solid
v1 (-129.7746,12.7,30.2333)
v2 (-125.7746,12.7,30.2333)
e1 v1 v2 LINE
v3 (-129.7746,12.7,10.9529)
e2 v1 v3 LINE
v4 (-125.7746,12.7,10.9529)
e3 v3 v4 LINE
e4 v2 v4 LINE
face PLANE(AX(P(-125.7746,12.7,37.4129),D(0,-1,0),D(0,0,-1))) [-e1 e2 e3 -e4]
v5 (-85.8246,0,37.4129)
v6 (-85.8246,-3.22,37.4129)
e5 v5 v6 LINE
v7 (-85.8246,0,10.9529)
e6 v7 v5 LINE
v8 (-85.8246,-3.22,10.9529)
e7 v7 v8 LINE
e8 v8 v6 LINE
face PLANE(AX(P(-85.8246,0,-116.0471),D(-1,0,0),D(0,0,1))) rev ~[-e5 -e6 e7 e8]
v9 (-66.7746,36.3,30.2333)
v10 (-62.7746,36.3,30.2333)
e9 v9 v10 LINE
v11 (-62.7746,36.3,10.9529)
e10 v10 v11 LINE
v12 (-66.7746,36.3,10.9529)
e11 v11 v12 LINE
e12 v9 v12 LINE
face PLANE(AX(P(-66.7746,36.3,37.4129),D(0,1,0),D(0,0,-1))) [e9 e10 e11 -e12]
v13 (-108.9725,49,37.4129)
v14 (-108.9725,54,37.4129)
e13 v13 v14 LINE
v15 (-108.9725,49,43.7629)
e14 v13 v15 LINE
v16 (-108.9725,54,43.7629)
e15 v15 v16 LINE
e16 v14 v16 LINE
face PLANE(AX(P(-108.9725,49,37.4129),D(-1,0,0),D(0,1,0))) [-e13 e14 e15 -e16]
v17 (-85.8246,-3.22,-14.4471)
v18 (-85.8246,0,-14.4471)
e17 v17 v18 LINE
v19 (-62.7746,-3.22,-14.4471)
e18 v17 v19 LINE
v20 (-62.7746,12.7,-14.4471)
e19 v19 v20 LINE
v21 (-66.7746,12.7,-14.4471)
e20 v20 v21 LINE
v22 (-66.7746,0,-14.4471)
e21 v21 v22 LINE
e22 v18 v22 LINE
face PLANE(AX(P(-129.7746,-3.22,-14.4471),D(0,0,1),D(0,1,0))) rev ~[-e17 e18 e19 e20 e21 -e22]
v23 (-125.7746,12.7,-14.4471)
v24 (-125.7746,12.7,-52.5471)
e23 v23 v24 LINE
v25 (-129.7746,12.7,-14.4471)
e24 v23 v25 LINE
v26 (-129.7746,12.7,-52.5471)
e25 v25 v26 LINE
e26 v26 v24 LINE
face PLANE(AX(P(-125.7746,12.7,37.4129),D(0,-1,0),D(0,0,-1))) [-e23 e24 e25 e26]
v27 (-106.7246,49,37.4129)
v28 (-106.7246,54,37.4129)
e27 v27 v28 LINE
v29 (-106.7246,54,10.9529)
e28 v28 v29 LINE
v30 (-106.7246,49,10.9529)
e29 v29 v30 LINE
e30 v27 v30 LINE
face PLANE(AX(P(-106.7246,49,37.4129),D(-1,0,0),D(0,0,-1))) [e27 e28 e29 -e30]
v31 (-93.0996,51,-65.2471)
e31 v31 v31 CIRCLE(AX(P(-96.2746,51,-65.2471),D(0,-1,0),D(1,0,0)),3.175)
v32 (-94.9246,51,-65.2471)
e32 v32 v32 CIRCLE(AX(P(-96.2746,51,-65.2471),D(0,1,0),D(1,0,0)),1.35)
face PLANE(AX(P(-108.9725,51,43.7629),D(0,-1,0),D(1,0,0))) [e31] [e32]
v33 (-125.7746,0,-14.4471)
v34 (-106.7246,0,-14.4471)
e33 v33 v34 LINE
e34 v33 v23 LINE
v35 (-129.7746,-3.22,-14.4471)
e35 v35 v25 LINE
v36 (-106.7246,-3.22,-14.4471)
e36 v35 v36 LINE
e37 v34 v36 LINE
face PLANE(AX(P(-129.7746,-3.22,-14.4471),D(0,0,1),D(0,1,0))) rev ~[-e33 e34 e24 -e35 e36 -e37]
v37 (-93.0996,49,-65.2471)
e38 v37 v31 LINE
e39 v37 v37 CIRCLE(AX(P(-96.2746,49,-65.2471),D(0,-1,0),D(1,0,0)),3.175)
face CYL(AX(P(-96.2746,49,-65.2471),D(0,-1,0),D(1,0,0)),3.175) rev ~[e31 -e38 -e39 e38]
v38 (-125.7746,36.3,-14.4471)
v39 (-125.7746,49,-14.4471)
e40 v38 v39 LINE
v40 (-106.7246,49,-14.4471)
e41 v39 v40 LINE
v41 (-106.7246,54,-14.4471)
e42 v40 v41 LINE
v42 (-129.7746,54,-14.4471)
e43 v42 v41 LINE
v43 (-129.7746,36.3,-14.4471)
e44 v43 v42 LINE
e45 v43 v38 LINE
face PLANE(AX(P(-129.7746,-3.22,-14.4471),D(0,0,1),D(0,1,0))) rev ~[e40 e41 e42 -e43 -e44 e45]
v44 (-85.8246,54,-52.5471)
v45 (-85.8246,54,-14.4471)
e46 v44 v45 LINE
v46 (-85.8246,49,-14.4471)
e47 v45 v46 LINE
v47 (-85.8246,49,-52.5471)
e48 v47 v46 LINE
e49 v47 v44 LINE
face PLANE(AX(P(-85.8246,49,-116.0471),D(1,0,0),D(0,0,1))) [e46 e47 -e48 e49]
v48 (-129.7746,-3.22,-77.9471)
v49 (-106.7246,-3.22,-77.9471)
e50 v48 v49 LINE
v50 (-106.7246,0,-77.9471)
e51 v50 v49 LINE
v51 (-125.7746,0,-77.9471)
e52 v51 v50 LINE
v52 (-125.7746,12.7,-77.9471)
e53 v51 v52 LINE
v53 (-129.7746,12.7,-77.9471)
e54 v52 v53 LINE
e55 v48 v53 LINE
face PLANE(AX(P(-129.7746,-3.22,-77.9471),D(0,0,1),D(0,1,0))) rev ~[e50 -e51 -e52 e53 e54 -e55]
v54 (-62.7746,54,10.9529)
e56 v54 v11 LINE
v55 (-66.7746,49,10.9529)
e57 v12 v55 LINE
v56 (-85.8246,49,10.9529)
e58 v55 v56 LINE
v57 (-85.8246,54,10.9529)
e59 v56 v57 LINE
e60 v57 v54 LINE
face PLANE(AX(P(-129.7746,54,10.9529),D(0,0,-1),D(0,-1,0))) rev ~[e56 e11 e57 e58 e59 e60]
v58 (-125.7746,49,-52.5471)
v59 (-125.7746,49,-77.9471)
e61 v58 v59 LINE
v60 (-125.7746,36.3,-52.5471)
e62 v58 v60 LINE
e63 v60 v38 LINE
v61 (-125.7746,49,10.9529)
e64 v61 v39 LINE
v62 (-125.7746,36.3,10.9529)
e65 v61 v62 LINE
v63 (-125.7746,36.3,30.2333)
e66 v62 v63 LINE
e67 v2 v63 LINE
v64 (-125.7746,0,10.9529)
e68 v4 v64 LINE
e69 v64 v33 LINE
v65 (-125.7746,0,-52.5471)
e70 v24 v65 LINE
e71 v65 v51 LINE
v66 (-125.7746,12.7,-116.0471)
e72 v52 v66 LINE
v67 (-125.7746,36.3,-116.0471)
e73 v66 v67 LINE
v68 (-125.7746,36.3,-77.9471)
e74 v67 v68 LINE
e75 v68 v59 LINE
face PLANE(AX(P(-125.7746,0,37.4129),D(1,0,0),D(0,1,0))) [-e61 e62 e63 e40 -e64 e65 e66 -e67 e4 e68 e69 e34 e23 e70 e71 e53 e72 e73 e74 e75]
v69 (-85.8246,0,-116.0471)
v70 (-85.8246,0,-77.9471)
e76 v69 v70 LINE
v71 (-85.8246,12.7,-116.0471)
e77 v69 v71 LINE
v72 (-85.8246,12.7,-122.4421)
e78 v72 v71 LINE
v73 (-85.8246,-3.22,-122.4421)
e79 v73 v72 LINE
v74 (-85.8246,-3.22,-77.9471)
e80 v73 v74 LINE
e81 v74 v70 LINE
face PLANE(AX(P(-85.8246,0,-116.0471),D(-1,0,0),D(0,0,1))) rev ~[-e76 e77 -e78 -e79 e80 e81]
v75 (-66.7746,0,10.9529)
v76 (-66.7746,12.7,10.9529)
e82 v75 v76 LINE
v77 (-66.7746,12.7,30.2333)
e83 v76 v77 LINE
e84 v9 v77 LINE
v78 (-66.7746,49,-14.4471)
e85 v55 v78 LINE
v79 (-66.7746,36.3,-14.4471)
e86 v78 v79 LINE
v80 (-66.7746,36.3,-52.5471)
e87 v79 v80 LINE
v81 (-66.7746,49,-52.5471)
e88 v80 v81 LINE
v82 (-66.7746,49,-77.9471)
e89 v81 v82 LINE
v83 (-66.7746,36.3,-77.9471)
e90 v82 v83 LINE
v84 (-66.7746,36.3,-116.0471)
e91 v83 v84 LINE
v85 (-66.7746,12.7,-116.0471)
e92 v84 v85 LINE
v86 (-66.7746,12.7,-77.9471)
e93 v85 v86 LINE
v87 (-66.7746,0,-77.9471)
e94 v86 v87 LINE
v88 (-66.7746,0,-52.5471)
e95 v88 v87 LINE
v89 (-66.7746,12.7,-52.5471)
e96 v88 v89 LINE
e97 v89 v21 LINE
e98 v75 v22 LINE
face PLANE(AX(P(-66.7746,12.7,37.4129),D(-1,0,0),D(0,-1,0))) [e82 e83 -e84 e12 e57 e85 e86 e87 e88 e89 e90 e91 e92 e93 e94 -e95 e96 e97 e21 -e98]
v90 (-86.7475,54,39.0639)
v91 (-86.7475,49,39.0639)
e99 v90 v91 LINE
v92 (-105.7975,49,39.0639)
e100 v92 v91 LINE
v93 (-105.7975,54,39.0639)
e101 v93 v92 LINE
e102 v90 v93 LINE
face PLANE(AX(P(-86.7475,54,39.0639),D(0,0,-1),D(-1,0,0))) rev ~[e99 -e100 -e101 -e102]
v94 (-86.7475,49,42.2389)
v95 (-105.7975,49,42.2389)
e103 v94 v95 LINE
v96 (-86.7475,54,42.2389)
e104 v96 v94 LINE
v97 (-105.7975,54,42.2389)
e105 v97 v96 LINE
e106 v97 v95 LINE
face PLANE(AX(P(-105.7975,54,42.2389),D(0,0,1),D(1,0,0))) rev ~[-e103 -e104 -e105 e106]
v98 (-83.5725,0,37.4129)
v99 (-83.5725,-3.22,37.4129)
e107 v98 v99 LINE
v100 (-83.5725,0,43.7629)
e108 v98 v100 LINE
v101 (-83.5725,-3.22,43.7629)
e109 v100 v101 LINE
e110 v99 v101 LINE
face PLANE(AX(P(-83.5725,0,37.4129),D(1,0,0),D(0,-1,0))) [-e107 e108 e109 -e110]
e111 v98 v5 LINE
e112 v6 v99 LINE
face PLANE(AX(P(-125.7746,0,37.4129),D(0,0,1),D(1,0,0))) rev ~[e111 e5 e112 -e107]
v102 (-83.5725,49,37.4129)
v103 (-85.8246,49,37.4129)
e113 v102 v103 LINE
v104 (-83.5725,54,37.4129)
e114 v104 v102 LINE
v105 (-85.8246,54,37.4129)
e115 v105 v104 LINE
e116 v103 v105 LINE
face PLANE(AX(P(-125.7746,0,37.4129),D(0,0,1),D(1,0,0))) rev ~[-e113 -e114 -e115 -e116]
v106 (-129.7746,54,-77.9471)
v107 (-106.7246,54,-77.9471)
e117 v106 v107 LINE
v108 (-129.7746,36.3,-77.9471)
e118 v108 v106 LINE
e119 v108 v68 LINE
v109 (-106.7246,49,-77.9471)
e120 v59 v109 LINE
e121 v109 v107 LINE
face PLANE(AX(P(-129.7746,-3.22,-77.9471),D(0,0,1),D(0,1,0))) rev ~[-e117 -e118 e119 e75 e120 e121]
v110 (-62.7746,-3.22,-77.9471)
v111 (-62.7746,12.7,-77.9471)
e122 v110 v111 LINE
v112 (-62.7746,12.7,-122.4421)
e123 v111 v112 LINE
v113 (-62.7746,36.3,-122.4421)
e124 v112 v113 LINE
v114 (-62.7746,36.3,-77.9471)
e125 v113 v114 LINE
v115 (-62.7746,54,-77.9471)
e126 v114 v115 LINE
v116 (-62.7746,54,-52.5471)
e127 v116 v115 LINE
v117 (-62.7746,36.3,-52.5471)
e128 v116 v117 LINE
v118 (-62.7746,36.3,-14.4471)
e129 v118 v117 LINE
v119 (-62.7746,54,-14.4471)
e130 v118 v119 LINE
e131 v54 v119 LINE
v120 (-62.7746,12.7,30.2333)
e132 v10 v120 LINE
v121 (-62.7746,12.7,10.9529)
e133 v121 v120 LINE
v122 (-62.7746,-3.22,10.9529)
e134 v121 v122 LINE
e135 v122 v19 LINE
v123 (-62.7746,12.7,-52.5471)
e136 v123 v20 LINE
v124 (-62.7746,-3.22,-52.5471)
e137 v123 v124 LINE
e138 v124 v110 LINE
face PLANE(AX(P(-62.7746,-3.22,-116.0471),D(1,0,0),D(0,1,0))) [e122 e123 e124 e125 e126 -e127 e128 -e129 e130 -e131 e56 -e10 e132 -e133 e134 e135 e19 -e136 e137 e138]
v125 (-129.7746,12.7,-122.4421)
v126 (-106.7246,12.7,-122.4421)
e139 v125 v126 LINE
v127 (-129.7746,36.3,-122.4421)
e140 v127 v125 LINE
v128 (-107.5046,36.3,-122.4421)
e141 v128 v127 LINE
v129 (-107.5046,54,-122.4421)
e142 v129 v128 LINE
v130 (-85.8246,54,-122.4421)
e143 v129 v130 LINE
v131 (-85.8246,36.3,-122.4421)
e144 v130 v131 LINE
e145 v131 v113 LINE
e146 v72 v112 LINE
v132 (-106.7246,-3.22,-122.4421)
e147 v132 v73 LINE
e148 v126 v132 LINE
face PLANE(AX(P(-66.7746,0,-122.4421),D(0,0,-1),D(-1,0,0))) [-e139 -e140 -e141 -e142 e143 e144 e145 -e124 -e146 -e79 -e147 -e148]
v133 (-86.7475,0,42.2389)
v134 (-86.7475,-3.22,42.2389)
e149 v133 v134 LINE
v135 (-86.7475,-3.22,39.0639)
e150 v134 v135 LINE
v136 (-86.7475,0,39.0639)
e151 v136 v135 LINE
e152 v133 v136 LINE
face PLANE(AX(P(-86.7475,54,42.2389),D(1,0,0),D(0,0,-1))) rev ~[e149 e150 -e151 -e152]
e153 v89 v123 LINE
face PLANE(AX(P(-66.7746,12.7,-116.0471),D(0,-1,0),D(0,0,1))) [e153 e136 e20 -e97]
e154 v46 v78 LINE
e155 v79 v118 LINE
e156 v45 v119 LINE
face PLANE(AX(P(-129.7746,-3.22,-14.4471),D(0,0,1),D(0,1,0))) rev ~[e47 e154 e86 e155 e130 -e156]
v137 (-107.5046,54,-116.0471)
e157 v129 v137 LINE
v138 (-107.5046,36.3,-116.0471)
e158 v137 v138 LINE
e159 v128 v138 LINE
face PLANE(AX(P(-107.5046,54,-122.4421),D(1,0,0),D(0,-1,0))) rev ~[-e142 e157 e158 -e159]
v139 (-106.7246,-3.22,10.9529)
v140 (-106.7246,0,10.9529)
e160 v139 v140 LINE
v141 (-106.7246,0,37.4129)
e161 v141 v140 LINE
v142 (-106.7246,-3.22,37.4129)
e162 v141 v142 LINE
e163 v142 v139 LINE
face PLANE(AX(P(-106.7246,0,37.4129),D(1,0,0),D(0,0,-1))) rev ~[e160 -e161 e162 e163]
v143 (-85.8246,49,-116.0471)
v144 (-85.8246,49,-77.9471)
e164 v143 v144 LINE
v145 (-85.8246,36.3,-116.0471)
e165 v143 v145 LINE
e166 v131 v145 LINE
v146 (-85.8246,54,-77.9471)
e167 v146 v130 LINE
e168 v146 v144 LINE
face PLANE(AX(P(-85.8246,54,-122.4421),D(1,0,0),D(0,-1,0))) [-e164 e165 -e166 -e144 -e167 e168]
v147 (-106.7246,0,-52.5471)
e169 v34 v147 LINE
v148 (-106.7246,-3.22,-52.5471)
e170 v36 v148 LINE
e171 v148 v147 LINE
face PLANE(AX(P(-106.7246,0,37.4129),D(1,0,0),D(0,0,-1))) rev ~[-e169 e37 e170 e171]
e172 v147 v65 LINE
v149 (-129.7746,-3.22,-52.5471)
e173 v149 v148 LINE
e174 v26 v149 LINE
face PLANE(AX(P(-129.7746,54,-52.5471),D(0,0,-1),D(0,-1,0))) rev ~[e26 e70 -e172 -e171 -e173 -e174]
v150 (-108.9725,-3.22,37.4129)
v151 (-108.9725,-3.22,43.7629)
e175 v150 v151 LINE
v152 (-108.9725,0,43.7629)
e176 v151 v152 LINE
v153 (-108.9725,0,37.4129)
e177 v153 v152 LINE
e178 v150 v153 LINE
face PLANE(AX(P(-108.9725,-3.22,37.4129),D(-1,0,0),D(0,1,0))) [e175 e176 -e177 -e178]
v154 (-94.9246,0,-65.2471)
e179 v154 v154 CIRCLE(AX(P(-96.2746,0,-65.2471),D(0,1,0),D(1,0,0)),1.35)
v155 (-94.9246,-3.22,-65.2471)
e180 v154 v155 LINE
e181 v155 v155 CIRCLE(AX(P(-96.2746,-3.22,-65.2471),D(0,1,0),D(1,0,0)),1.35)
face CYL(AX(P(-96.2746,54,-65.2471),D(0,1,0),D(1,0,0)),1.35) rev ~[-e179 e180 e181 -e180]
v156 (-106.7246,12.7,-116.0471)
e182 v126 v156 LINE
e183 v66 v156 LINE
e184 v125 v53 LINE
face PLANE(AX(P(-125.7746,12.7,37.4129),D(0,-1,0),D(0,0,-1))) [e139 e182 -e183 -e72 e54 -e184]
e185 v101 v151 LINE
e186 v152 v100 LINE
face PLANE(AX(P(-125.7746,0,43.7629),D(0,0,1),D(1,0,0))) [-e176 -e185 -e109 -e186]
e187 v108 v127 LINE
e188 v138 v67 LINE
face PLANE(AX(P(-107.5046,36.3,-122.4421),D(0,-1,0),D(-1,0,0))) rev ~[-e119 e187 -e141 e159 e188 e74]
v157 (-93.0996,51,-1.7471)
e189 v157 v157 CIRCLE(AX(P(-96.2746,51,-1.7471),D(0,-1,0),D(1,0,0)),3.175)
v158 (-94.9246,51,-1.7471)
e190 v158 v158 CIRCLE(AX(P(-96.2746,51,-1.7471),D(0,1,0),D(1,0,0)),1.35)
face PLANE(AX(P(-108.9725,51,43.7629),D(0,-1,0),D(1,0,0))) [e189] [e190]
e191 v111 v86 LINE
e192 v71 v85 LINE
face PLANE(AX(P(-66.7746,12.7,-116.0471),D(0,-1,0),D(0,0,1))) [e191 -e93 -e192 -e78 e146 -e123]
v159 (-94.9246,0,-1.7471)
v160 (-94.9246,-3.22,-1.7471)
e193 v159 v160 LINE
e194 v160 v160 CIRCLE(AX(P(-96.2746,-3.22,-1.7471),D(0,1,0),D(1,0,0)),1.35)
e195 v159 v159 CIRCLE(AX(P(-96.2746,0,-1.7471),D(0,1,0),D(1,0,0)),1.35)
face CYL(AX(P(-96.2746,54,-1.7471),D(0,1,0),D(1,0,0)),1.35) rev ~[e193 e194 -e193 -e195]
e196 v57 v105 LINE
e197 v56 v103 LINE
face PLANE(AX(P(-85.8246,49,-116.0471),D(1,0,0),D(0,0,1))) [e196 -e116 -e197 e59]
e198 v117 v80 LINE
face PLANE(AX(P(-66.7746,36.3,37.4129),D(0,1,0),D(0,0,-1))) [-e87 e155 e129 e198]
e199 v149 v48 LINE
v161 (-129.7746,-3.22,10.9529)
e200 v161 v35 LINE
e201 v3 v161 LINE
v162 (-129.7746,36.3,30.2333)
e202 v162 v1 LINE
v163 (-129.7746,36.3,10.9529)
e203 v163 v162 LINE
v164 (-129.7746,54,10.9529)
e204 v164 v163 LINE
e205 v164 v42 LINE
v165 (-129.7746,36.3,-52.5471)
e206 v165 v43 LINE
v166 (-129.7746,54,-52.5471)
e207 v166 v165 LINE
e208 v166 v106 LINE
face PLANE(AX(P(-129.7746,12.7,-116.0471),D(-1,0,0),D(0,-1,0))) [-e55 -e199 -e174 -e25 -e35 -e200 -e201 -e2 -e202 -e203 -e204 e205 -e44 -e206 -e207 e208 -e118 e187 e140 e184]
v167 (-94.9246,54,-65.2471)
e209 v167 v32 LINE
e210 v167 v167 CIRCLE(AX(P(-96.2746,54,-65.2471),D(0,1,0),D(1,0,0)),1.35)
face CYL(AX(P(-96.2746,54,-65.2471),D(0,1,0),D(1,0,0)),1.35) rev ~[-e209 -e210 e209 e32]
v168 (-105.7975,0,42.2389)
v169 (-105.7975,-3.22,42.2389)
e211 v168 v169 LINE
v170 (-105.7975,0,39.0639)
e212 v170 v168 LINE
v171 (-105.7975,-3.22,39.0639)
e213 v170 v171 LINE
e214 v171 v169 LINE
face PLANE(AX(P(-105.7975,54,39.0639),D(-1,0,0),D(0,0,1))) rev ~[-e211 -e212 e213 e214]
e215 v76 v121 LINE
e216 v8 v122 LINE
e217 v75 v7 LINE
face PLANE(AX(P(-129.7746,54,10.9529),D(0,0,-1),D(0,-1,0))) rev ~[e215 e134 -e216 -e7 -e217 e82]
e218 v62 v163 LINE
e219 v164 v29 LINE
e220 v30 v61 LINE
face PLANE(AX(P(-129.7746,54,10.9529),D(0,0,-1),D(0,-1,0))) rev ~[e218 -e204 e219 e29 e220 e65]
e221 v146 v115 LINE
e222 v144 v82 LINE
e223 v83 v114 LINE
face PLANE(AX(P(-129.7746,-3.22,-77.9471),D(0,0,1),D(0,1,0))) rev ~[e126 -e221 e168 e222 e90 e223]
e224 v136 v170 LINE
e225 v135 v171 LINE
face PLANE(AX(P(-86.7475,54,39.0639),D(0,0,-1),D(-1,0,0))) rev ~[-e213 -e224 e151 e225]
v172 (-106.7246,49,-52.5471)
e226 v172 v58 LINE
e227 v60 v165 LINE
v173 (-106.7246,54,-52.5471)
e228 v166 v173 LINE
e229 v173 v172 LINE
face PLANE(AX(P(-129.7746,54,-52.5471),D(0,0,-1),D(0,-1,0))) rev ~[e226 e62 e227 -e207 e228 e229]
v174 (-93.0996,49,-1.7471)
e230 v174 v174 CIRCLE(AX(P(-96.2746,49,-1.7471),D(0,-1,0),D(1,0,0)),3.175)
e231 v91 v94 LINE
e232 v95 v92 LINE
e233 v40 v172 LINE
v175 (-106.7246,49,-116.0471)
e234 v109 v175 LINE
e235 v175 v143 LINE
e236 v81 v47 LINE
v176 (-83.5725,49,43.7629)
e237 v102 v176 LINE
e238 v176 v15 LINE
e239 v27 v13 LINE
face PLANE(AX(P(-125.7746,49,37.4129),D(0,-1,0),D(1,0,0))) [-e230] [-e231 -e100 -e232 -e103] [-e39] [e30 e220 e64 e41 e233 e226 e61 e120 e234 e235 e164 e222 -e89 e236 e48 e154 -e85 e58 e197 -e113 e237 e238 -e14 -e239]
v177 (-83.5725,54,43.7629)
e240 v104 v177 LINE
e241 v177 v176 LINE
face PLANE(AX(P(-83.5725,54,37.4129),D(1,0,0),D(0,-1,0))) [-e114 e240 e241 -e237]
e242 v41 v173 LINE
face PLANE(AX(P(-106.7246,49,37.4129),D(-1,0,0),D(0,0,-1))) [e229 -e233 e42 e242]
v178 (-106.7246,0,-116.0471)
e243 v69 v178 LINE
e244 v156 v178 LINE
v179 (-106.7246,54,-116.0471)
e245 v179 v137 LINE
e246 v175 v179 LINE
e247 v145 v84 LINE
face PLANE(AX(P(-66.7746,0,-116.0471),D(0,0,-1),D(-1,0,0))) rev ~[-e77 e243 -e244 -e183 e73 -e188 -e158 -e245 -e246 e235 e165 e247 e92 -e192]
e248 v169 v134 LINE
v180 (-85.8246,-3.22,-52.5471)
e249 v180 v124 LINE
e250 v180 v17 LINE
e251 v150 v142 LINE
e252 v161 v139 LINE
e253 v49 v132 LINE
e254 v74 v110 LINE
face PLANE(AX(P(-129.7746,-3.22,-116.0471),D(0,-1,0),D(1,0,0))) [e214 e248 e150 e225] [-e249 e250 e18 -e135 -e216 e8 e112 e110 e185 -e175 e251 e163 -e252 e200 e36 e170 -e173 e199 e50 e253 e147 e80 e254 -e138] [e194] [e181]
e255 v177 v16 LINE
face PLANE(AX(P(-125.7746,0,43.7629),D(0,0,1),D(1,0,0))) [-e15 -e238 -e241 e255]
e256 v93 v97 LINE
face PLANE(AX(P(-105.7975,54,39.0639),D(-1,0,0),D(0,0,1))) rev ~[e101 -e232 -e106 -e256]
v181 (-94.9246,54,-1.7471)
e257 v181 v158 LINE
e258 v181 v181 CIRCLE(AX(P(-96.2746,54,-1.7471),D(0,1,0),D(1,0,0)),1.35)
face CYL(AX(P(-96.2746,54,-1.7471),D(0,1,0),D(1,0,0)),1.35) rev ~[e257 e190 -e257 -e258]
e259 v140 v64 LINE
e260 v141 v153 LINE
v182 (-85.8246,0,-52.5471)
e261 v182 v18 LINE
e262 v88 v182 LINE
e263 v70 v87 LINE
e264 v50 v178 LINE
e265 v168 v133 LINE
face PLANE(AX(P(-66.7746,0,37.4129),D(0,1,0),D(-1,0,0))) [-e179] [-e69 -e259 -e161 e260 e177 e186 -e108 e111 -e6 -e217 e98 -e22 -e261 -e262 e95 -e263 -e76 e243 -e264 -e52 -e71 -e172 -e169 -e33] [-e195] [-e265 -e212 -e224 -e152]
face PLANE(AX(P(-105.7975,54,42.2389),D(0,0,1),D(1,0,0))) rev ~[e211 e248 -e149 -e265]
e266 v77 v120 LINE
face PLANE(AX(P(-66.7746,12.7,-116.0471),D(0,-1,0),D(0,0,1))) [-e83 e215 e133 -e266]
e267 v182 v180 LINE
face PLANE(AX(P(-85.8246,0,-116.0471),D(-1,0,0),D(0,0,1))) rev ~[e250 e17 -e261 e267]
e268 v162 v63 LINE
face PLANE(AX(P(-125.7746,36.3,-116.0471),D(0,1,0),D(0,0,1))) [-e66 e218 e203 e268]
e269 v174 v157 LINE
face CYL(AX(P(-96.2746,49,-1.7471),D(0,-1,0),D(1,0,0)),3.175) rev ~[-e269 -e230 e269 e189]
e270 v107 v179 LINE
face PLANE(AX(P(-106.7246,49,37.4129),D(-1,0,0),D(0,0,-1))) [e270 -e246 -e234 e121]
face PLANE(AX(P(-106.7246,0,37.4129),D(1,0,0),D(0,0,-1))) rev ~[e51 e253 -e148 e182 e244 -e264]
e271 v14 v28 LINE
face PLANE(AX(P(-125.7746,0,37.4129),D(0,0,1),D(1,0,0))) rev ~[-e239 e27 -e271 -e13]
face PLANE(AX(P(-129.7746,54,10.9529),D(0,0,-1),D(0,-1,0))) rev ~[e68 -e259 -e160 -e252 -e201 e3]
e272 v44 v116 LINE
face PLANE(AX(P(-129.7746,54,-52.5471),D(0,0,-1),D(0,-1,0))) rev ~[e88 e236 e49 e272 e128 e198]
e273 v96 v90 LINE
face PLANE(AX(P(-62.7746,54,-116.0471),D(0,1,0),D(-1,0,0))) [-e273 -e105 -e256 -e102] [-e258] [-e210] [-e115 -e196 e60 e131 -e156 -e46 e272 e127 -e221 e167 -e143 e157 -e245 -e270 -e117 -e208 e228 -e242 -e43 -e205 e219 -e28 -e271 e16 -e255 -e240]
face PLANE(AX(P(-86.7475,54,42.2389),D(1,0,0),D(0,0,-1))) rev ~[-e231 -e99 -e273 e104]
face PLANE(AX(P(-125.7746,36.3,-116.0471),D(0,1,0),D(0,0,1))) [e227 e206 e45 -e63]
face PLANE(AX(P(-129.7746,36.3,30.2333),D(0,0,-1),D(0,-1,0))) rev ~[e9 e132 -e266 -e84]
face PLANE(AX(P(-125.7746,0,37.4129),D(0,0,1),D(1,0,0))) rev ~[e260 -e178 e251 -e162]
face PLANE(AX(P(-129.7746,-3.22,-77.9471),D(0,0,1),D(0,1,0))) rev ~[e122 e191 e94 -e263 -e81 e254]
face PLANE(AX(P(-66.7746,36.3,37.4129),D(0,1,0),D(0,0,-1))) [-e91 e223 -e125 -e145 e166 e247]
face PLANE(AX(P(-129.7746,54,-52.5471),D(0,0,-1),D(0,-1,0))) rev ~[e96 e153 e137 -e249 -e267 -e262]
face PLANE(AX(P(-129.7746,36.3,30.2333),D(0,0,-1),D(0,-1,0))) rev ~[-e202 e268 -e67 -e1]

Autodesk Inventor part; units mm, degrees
ref_plane "YZ Plane" through (0, 0, 0) normal (1, 0, 0) x (0, 1, 0)
ref_plane "XZ Plane" through (0, 0, 0) normal (0, 1, 0) x (-1, 0, 0)
ref_plane "XY Plane" through (0, 0, 0) normal (0, 0, 1) x (1, 0, 0)
sketch "Sketch1" plane through (0, 0, 0) normal (0, 1, 0) x (-1, 0, 0)
  line L0 (125.7746, -116.0471) -> (66.7746, -116.0471)
  line L1 (66.7746, -116.0471) -> (66.7746, 37.4129)
  line L2 (66.7746, 37.4129) -> (125.7746, 37.4129)
  line L3 (125.7746, 37.4129) -> (125.7746, -116.0471)
  point P0 (0, 0)
  dimension "d0" = 59
  dimension "d1" = 153.46
extrude "Extrusion1" add sketch "Sketch1" along normal blind 49
sketch "Sketch2" plane through (0, 0, 0) normal (0, -1, 0) x (1, 0, 0)
  line L0 (-125.7746, 37.4129) -> (-66.7746, 37.4129) projected
  line L1 (-66.7746, -116.0471) -> (-125.7746, -116.0471) projected
  line L2 (-85.8246, 37.4129) -> (-106.7246, 37.4129)
  line L3 (-106.7246, 37.4129) -> (-106.7246, -116.0471)
  line L4 (-106.7246, -116.0471) -> (-85.8246, -116.0471)
  line L5 (-85.8246, -116.0471) -> (-85.8246, 37.4129)
  line L6 (-66.7746, 37.4129) -> (-66.7746, -116.0471) projected
  line L7 (-125.7746, -116.0471) -> (-125.7746, 37.4129) projected
  point P0 (0, 0)
  dimension "d4" = 19.05
  dimension "d5" = 19.05
extrude "Extrusion2" add sketch "Sketch2" along normal blind 3.22 contours L0 L5 L1 L3
sketch "Sketch3" plane through (0, 49, 0) normal (0, 1, 0) x (1, 0, 0)
  line L0 (-125.7746, -37.4129) -> (-66.7746, -37.4129) projected
  line L1 (-106.7246, 116.0471) -> (-125.7746, 116.0471) projected
  line L2 (-85.8246, -37.4129) -> (-106.7246, -37.4129)
  line L3 (-106.7246, -37.4129) -> (-106.7246, 116.0471)
  line L4 (-106.7246, 116.0471) -> (-85.8246, 116.0471)
  line L5 (-85.8246, 116.0471) -> (-85.8246, -37.4129)
  line L6 (-66.7746, -37.4129) -> (-66.7746, 116.0471) projected
  line L7 (-125.7746, 116.0471) -> (-125.7746, -37.4129) projected
  point P0 (0, 0)
  dimension "d8" = 19.05
  dimension "d9" = 19.05
extrude "Extrusion3" add sketch "Sketch3" along normal blind 5 contours L3 L4 L5 L0
sketch "Sketch4" plane through (-66.7746, 0, 37.4129) normal (1, 0, 0) x (0, 0, -1)
  line L0 (0, 0) -> (0, 49) projected
  line L1 (153.46, 0) -> (153.46, 49) projected
  line L2 (0, 36.3) -> (153.46, 36.3)
  line L3 (153.46, 36.3) -> (153.46, 12.7)
  line L4 (153.46, 12.7) -> (0, 12.7)
  line L5 (0, 12.7) -> (0, 36.3)
  line L6 (0, 49) -> (153.46, 49) projected
  line L7 (0, 0) -> (153.46, 0) projected
  point P0 (37.4129, 0)
  point P1 (0, 12.7)
  dimension "d12" = 12.7
  dimension "d13" = 12.7
extrude "Extrusion4" add sketch "Sketch4" along normal blind 4 contours L0 L2 L1 L4
sketch "Sketch5" plane through (-125.7746, 0, -116.0471) normal (-1, 0, 0) x (0, 0, 1)
  line L0 (153.46, 0) -> (153.46, 49) projected
  line L1 (0, 0) -> (0, 49) projected
  line L2 (153.46, 12.7) -> (0, 12.7)
  line L3 (0, 12.7) -> (0, 36.3)
  line L4 (0, 36.3) -> (153.46, 36.3)
  line L5 (153.46, 36.3) -> (153.46, 12.7)
  line L6 (0, 0) -> (153.46, 0) projected
  line L7 (0, 49) -> (153.46, 49) projected
  point P0 (116.0471, 0)
  point P1 (0, 12.7)
  dimension "d16" = 12.7
  dimension "d17" = 12.7
extrude "Extrusion5" add sketch "Sketch5" along normal blind 4 contours L2 L1 L4 L0
sketch "Sketch6" plane through (-66.7746, 0, -116.0471) normal (0, 0, -1) x (-1, 0, 0)
  line L0 (63, -3.22) -> (-4, -3.22)
  line L1 (-4, -3.22) -> (-4, 54)
  line L2 (-4, 54) -> (63, 54)
  line L3 (63, 54) -> (63, -3.22)
  line L4 (19.05, 54) -> (39.95, 54) projected
  line L5 (63, 36.3) -> (63, 12.7) projected
  line L6 (-4, 12.7) -> (-4, 36.3) projected
  point P0 (-66.7746, 0)
  dimension "d20" = 0
  dimension "d21" = 0
  dimension "d22" = 0
extrude "Extrusion6" add sketch "Sketch6" along normal blind 6.395
sketch "Sketch7" plane through (-129.7746, 0, -116.0471) normal (-1, 0, 0) x (0, 0, 1)
  line L0 (153.46, 54) -> (0, 54) projected
  line L1 (153.46, -3.22) -> (0, -3.22) projected
  line L2 (38.1, 54) -> (63.5, 54)
  line L3 (63.5, 54) -> (63.5, -3.22)
  line L4 (63.5, -3.22) -> (38.1, -3.22)
  line L5 (38.1, -3.22) -> (38.1, 54)
  line L6 (101.6, 54) -> (127, 54)
  line L7 (127, 54) -> (127, -3.22)
  line L8 (127, -3.22) -> (101.6, -3.22)
  line L9 (101.6, -3.22) -> (101.6, 54)
  line L10 (0, 36.3) -> (0, 54) projected
  point P0 (116.0471, 0)
  point P1 (127, -3.22)
  dimension "d25" = 38.1
  dimension "d26" = 38.1
  dimension "d27" = 25.4
  dimension "d28" = 25.4
extrude "Extrusion7" add sketch "Sketch7" against normal up to surface (67 mm away) contours L7 L1 L9 L0 | L3 L1 L5 L0
sketch "Sketch8" plane through (-125.7746, 0, 37.4129) normal (0, 0, 1) x (1, 0, 0)
  line L0 (39.95, 49) -> (59, 49) projected
  line L1 (-4, 54) -> (19.05, 54) projected
  line L2 (42.2021, 49) -> (16.8021, 49)
  line L3 (16.8021, 49) -> (16.8021, 54)
  line L4 (16.8021, 54) -> (42.2021, 54)
  line L5 (42.2021, 54) -> (42.2021, 49)
  line L6 (19.05, 49) -> (19.05, 54) projected
  line L7 (0, 0) -> (19.05, 0) projected
  line L8 (39.95, -3.22) -> (63, -3.22) projected
  line L9 (16.8021, 0) -> (42.2021, 0)
  line L10 (42.2021, 0) -> (42.2021, -3.22)
  line L11 (42.2021, -3.22) -> (16.8021, -3.22)
  line L12 (16.8021, -3.22) -> (16.8021, 0)
  point P0 (125.7746, 0)
  point P1 (42.2021, 51.5)
  point P2 (16.8021, 51.5)
  point P3 (19.05, 51.5)
  dimension "d31" = 25.4
  dimension "d32" = 2.2479
extrude "Extrusion8" add sketch "Sketch8" along normal blind 6.35
sketch "Sketch9" plane through (0, 54, 0) normal (0, 1, 0) x (1, 0, 0)
  line L0 (-118.2456, -83.2824) -> (-137.2956, -83.2824)
  line L1 (-137.2956, -83.2824) -> (-137.2956, -80.1074)
  line L2 (-137.2956, -80.1074) -> (-118.2456, -80.1074)
  line L3 (-118.2456, -80.1074) -> (-118.2456, -83.2824)
  line L4 (-86.7475, -39.0639) -> (-105.7975, -39.0639)
  line L5 (-105.7975, -39.0639) -> (-105.7975, -42.2389)
  line L6 (-105.7975, -42.2389) -> (-86.7475, -42.2389)
  line L7 (-86.7475, -42.2389) -> (-86.7475, -39.0639)
  line L8 (-83.5725, -43.7629) -> (-108.9725, -43.7629) projected
  line L9 (-83.5725, -37.4129) -> (-83.5725, -43.7629) projected
  point P0 (0, 0)
  point P1 (-118.2456, -81.6949)
  point P2 (-137.2956, -81.6949)
  point P3 (-105.7975, -40.6514)
  point P4 (-86.7475, -40.6514)
  point P5 (-83.5725, -40.5879)
  dimension "d35" = 3.175
  dimension "d36" = 19.05
  dimension "d37" = 19.05
  dimension "d38" = 3.175
  dimension "d39" = 1.524
  dimension "d40" = 3.175
extrude "Extrusion9" cut sketch "Sketch9" against normal up to surface (57.22 mm away) contours L7 L6 L5 L4
sketch "Sketch10" plane through (-66.7746, 12.7, 37.4129) normal (0, 0, 1) x (1, 0, 0)
  line L0 (-59, 23.6) -> (-59, 36.3) projected
  line L1 (0, 0) -> (0, -12.7) projected
  line L2 (-59, 36.3) -> (0, 36.3)
  line L3 (0, 36.3) -> (0, -12.7)
  line L4 (0, -12.7) -> (-59, -12.7)
  line L5 (-59, -12.7) -> (-59, 36.3)
  point P0 (66.7746, -12.7)
  point P1 (-59, 23.6)
extrude "Extrusion10" cut sketch "Sketch10" against normal up to surface (153.46 mm away)
sketch "Sketch11" plane through (0, 54, 0) normal (0, 1, 0) x (1, 0, 0)
  line L0 (-85.8246, 116.0471) -> (-85.8246, 77.9471) projected
  line L1 (-129.7746, 52.5471) -> (-106.7246, 52.5471) projected
  line L2 (-85.8246, 52.5471) -> (-85.8246, 14.4471) projected
  line L3 (-129.7746, -10.9529) -> (-106.7246, -10.9529) projected
  circle A0 centre (-96.2746, 65.2471) radius 1.35
  circle A1 centre (-96.2746, 1.7471) radius 1.35
  point P0 (0, 0)
  dimension "d45" = 2.7
  dimension "d46" = 2.7
  dimension "d47" = 63.5
extrude "Extrusion11" cut sketch "Sketch11" against normal up to surface (57.22 mm away)
sketch "Sketch12" plane through (-108.9725, 49, 43.7629) normal (0, -1, 0) x (1, 0, 0)
  circle A0 centre (12.6979, -45.51) radius 1.35 projected
  circle A1 centre (12.6979, -45.51) radius 3.175
  circle A2 centre (12.6979, -109.01) radius 1.35 projected
  circle A3 centre (12.6979, -109.01) radius 3.175
  point P0 (108.9725, -43.7629)
  dimension "d50" = 6.35
  dimension "d51" = 6.35
extrude "Extrusion12" cut sketch "Sketch12" against normal blind 2 contours A0 | A1 | A2 | A3
sketch "Sketch13" plane through (-129.7746, 0, -116.0471) normal (-1, 0, 0) x (0, 0, 1)
  line L0 (153.46, 36.3) -> (127, 36.3) projected
  line L1 (127, 12.7) -> (153.46, 12.7) projected
  line L2 (153.46, 36.3) -> (146.2804, 36.3)
  line L3 (146.2804, 36.3) -> (146.2804, 12.7)
  line L4 (146.2804, 12.7) -> (153.46, 12.7)
  line L5 (153.46, 12.7) -> (153.46, 36.3)
  point P0 (116.0471, 0)
extrude "Extrusion13" cut sketch "Sketch13" against normal up to surface (67 mm away)
sketch "Sketch14" plane through (-66.7746, 0, -122.4421) normal (0, 0, -1) x (-1, 0, 0)
  line L0 (-4, 36.3) -> (-4, 54) projected
  line L1 (-4, 54) -> (19.05, 54)
  line L2 (19.05, 54) -> (19.05, 36.3)
  line L3 (19.05, 36.3) -> (-4, 36.3)
  line L4 (-4, 36.3) -> (-4, 54)
  line L5 (63, -3.22) -> (63, 54) projected
  line L6 (63, 54) -> (40.73, 54)
  line L7 (40.73, 54) -> (40.73, 36.3)
  line L8 (40.73, 36.3) -> (63, 36.3)
  line L9 (63, 36.3) -> (63, 54)
  line L10 (63, 12.7) -> (63, -3.22) projected
  line L11 (63, -3.22) -> (39.95, -3.22) projected
  line L12 (63, 12.7) -> (39.95, 12.7)
  line L13 (39.95, 12.7) -> (39.95, -3.22)
  line L14 (39.95, -3.22) -> (63, -3.22)
  line L15 (63, -3.22) -> (63, 12.7)
  line L16 (-4, 12.7) -> (-4, -3.22) projected
  line L17 (-4, -3.22) -> (19.05, -3.22)
  line L18 (19.05, -3.22) -> (19.05, 12.7)
  line L19 (19.05, 12.7) -> (-4, 12.7)
  line L20 (-4, 12.7) -> (-4, -3.22)
  point P0 (-66.7746, 0)
  point P1 (19.05, 54)
  point P2 (-4, 12.7)
  point P3 (63, 36.3)
  point P4 (63, 36.3)
  dimension "d56" = 0
  dimension "d59" = 0
  dimension "d60" = 0
extrude "Extrusion14" cut sketch "Sketch14" against normal up to surface (6.395 mm away)
properties part number "battery holder v2"
